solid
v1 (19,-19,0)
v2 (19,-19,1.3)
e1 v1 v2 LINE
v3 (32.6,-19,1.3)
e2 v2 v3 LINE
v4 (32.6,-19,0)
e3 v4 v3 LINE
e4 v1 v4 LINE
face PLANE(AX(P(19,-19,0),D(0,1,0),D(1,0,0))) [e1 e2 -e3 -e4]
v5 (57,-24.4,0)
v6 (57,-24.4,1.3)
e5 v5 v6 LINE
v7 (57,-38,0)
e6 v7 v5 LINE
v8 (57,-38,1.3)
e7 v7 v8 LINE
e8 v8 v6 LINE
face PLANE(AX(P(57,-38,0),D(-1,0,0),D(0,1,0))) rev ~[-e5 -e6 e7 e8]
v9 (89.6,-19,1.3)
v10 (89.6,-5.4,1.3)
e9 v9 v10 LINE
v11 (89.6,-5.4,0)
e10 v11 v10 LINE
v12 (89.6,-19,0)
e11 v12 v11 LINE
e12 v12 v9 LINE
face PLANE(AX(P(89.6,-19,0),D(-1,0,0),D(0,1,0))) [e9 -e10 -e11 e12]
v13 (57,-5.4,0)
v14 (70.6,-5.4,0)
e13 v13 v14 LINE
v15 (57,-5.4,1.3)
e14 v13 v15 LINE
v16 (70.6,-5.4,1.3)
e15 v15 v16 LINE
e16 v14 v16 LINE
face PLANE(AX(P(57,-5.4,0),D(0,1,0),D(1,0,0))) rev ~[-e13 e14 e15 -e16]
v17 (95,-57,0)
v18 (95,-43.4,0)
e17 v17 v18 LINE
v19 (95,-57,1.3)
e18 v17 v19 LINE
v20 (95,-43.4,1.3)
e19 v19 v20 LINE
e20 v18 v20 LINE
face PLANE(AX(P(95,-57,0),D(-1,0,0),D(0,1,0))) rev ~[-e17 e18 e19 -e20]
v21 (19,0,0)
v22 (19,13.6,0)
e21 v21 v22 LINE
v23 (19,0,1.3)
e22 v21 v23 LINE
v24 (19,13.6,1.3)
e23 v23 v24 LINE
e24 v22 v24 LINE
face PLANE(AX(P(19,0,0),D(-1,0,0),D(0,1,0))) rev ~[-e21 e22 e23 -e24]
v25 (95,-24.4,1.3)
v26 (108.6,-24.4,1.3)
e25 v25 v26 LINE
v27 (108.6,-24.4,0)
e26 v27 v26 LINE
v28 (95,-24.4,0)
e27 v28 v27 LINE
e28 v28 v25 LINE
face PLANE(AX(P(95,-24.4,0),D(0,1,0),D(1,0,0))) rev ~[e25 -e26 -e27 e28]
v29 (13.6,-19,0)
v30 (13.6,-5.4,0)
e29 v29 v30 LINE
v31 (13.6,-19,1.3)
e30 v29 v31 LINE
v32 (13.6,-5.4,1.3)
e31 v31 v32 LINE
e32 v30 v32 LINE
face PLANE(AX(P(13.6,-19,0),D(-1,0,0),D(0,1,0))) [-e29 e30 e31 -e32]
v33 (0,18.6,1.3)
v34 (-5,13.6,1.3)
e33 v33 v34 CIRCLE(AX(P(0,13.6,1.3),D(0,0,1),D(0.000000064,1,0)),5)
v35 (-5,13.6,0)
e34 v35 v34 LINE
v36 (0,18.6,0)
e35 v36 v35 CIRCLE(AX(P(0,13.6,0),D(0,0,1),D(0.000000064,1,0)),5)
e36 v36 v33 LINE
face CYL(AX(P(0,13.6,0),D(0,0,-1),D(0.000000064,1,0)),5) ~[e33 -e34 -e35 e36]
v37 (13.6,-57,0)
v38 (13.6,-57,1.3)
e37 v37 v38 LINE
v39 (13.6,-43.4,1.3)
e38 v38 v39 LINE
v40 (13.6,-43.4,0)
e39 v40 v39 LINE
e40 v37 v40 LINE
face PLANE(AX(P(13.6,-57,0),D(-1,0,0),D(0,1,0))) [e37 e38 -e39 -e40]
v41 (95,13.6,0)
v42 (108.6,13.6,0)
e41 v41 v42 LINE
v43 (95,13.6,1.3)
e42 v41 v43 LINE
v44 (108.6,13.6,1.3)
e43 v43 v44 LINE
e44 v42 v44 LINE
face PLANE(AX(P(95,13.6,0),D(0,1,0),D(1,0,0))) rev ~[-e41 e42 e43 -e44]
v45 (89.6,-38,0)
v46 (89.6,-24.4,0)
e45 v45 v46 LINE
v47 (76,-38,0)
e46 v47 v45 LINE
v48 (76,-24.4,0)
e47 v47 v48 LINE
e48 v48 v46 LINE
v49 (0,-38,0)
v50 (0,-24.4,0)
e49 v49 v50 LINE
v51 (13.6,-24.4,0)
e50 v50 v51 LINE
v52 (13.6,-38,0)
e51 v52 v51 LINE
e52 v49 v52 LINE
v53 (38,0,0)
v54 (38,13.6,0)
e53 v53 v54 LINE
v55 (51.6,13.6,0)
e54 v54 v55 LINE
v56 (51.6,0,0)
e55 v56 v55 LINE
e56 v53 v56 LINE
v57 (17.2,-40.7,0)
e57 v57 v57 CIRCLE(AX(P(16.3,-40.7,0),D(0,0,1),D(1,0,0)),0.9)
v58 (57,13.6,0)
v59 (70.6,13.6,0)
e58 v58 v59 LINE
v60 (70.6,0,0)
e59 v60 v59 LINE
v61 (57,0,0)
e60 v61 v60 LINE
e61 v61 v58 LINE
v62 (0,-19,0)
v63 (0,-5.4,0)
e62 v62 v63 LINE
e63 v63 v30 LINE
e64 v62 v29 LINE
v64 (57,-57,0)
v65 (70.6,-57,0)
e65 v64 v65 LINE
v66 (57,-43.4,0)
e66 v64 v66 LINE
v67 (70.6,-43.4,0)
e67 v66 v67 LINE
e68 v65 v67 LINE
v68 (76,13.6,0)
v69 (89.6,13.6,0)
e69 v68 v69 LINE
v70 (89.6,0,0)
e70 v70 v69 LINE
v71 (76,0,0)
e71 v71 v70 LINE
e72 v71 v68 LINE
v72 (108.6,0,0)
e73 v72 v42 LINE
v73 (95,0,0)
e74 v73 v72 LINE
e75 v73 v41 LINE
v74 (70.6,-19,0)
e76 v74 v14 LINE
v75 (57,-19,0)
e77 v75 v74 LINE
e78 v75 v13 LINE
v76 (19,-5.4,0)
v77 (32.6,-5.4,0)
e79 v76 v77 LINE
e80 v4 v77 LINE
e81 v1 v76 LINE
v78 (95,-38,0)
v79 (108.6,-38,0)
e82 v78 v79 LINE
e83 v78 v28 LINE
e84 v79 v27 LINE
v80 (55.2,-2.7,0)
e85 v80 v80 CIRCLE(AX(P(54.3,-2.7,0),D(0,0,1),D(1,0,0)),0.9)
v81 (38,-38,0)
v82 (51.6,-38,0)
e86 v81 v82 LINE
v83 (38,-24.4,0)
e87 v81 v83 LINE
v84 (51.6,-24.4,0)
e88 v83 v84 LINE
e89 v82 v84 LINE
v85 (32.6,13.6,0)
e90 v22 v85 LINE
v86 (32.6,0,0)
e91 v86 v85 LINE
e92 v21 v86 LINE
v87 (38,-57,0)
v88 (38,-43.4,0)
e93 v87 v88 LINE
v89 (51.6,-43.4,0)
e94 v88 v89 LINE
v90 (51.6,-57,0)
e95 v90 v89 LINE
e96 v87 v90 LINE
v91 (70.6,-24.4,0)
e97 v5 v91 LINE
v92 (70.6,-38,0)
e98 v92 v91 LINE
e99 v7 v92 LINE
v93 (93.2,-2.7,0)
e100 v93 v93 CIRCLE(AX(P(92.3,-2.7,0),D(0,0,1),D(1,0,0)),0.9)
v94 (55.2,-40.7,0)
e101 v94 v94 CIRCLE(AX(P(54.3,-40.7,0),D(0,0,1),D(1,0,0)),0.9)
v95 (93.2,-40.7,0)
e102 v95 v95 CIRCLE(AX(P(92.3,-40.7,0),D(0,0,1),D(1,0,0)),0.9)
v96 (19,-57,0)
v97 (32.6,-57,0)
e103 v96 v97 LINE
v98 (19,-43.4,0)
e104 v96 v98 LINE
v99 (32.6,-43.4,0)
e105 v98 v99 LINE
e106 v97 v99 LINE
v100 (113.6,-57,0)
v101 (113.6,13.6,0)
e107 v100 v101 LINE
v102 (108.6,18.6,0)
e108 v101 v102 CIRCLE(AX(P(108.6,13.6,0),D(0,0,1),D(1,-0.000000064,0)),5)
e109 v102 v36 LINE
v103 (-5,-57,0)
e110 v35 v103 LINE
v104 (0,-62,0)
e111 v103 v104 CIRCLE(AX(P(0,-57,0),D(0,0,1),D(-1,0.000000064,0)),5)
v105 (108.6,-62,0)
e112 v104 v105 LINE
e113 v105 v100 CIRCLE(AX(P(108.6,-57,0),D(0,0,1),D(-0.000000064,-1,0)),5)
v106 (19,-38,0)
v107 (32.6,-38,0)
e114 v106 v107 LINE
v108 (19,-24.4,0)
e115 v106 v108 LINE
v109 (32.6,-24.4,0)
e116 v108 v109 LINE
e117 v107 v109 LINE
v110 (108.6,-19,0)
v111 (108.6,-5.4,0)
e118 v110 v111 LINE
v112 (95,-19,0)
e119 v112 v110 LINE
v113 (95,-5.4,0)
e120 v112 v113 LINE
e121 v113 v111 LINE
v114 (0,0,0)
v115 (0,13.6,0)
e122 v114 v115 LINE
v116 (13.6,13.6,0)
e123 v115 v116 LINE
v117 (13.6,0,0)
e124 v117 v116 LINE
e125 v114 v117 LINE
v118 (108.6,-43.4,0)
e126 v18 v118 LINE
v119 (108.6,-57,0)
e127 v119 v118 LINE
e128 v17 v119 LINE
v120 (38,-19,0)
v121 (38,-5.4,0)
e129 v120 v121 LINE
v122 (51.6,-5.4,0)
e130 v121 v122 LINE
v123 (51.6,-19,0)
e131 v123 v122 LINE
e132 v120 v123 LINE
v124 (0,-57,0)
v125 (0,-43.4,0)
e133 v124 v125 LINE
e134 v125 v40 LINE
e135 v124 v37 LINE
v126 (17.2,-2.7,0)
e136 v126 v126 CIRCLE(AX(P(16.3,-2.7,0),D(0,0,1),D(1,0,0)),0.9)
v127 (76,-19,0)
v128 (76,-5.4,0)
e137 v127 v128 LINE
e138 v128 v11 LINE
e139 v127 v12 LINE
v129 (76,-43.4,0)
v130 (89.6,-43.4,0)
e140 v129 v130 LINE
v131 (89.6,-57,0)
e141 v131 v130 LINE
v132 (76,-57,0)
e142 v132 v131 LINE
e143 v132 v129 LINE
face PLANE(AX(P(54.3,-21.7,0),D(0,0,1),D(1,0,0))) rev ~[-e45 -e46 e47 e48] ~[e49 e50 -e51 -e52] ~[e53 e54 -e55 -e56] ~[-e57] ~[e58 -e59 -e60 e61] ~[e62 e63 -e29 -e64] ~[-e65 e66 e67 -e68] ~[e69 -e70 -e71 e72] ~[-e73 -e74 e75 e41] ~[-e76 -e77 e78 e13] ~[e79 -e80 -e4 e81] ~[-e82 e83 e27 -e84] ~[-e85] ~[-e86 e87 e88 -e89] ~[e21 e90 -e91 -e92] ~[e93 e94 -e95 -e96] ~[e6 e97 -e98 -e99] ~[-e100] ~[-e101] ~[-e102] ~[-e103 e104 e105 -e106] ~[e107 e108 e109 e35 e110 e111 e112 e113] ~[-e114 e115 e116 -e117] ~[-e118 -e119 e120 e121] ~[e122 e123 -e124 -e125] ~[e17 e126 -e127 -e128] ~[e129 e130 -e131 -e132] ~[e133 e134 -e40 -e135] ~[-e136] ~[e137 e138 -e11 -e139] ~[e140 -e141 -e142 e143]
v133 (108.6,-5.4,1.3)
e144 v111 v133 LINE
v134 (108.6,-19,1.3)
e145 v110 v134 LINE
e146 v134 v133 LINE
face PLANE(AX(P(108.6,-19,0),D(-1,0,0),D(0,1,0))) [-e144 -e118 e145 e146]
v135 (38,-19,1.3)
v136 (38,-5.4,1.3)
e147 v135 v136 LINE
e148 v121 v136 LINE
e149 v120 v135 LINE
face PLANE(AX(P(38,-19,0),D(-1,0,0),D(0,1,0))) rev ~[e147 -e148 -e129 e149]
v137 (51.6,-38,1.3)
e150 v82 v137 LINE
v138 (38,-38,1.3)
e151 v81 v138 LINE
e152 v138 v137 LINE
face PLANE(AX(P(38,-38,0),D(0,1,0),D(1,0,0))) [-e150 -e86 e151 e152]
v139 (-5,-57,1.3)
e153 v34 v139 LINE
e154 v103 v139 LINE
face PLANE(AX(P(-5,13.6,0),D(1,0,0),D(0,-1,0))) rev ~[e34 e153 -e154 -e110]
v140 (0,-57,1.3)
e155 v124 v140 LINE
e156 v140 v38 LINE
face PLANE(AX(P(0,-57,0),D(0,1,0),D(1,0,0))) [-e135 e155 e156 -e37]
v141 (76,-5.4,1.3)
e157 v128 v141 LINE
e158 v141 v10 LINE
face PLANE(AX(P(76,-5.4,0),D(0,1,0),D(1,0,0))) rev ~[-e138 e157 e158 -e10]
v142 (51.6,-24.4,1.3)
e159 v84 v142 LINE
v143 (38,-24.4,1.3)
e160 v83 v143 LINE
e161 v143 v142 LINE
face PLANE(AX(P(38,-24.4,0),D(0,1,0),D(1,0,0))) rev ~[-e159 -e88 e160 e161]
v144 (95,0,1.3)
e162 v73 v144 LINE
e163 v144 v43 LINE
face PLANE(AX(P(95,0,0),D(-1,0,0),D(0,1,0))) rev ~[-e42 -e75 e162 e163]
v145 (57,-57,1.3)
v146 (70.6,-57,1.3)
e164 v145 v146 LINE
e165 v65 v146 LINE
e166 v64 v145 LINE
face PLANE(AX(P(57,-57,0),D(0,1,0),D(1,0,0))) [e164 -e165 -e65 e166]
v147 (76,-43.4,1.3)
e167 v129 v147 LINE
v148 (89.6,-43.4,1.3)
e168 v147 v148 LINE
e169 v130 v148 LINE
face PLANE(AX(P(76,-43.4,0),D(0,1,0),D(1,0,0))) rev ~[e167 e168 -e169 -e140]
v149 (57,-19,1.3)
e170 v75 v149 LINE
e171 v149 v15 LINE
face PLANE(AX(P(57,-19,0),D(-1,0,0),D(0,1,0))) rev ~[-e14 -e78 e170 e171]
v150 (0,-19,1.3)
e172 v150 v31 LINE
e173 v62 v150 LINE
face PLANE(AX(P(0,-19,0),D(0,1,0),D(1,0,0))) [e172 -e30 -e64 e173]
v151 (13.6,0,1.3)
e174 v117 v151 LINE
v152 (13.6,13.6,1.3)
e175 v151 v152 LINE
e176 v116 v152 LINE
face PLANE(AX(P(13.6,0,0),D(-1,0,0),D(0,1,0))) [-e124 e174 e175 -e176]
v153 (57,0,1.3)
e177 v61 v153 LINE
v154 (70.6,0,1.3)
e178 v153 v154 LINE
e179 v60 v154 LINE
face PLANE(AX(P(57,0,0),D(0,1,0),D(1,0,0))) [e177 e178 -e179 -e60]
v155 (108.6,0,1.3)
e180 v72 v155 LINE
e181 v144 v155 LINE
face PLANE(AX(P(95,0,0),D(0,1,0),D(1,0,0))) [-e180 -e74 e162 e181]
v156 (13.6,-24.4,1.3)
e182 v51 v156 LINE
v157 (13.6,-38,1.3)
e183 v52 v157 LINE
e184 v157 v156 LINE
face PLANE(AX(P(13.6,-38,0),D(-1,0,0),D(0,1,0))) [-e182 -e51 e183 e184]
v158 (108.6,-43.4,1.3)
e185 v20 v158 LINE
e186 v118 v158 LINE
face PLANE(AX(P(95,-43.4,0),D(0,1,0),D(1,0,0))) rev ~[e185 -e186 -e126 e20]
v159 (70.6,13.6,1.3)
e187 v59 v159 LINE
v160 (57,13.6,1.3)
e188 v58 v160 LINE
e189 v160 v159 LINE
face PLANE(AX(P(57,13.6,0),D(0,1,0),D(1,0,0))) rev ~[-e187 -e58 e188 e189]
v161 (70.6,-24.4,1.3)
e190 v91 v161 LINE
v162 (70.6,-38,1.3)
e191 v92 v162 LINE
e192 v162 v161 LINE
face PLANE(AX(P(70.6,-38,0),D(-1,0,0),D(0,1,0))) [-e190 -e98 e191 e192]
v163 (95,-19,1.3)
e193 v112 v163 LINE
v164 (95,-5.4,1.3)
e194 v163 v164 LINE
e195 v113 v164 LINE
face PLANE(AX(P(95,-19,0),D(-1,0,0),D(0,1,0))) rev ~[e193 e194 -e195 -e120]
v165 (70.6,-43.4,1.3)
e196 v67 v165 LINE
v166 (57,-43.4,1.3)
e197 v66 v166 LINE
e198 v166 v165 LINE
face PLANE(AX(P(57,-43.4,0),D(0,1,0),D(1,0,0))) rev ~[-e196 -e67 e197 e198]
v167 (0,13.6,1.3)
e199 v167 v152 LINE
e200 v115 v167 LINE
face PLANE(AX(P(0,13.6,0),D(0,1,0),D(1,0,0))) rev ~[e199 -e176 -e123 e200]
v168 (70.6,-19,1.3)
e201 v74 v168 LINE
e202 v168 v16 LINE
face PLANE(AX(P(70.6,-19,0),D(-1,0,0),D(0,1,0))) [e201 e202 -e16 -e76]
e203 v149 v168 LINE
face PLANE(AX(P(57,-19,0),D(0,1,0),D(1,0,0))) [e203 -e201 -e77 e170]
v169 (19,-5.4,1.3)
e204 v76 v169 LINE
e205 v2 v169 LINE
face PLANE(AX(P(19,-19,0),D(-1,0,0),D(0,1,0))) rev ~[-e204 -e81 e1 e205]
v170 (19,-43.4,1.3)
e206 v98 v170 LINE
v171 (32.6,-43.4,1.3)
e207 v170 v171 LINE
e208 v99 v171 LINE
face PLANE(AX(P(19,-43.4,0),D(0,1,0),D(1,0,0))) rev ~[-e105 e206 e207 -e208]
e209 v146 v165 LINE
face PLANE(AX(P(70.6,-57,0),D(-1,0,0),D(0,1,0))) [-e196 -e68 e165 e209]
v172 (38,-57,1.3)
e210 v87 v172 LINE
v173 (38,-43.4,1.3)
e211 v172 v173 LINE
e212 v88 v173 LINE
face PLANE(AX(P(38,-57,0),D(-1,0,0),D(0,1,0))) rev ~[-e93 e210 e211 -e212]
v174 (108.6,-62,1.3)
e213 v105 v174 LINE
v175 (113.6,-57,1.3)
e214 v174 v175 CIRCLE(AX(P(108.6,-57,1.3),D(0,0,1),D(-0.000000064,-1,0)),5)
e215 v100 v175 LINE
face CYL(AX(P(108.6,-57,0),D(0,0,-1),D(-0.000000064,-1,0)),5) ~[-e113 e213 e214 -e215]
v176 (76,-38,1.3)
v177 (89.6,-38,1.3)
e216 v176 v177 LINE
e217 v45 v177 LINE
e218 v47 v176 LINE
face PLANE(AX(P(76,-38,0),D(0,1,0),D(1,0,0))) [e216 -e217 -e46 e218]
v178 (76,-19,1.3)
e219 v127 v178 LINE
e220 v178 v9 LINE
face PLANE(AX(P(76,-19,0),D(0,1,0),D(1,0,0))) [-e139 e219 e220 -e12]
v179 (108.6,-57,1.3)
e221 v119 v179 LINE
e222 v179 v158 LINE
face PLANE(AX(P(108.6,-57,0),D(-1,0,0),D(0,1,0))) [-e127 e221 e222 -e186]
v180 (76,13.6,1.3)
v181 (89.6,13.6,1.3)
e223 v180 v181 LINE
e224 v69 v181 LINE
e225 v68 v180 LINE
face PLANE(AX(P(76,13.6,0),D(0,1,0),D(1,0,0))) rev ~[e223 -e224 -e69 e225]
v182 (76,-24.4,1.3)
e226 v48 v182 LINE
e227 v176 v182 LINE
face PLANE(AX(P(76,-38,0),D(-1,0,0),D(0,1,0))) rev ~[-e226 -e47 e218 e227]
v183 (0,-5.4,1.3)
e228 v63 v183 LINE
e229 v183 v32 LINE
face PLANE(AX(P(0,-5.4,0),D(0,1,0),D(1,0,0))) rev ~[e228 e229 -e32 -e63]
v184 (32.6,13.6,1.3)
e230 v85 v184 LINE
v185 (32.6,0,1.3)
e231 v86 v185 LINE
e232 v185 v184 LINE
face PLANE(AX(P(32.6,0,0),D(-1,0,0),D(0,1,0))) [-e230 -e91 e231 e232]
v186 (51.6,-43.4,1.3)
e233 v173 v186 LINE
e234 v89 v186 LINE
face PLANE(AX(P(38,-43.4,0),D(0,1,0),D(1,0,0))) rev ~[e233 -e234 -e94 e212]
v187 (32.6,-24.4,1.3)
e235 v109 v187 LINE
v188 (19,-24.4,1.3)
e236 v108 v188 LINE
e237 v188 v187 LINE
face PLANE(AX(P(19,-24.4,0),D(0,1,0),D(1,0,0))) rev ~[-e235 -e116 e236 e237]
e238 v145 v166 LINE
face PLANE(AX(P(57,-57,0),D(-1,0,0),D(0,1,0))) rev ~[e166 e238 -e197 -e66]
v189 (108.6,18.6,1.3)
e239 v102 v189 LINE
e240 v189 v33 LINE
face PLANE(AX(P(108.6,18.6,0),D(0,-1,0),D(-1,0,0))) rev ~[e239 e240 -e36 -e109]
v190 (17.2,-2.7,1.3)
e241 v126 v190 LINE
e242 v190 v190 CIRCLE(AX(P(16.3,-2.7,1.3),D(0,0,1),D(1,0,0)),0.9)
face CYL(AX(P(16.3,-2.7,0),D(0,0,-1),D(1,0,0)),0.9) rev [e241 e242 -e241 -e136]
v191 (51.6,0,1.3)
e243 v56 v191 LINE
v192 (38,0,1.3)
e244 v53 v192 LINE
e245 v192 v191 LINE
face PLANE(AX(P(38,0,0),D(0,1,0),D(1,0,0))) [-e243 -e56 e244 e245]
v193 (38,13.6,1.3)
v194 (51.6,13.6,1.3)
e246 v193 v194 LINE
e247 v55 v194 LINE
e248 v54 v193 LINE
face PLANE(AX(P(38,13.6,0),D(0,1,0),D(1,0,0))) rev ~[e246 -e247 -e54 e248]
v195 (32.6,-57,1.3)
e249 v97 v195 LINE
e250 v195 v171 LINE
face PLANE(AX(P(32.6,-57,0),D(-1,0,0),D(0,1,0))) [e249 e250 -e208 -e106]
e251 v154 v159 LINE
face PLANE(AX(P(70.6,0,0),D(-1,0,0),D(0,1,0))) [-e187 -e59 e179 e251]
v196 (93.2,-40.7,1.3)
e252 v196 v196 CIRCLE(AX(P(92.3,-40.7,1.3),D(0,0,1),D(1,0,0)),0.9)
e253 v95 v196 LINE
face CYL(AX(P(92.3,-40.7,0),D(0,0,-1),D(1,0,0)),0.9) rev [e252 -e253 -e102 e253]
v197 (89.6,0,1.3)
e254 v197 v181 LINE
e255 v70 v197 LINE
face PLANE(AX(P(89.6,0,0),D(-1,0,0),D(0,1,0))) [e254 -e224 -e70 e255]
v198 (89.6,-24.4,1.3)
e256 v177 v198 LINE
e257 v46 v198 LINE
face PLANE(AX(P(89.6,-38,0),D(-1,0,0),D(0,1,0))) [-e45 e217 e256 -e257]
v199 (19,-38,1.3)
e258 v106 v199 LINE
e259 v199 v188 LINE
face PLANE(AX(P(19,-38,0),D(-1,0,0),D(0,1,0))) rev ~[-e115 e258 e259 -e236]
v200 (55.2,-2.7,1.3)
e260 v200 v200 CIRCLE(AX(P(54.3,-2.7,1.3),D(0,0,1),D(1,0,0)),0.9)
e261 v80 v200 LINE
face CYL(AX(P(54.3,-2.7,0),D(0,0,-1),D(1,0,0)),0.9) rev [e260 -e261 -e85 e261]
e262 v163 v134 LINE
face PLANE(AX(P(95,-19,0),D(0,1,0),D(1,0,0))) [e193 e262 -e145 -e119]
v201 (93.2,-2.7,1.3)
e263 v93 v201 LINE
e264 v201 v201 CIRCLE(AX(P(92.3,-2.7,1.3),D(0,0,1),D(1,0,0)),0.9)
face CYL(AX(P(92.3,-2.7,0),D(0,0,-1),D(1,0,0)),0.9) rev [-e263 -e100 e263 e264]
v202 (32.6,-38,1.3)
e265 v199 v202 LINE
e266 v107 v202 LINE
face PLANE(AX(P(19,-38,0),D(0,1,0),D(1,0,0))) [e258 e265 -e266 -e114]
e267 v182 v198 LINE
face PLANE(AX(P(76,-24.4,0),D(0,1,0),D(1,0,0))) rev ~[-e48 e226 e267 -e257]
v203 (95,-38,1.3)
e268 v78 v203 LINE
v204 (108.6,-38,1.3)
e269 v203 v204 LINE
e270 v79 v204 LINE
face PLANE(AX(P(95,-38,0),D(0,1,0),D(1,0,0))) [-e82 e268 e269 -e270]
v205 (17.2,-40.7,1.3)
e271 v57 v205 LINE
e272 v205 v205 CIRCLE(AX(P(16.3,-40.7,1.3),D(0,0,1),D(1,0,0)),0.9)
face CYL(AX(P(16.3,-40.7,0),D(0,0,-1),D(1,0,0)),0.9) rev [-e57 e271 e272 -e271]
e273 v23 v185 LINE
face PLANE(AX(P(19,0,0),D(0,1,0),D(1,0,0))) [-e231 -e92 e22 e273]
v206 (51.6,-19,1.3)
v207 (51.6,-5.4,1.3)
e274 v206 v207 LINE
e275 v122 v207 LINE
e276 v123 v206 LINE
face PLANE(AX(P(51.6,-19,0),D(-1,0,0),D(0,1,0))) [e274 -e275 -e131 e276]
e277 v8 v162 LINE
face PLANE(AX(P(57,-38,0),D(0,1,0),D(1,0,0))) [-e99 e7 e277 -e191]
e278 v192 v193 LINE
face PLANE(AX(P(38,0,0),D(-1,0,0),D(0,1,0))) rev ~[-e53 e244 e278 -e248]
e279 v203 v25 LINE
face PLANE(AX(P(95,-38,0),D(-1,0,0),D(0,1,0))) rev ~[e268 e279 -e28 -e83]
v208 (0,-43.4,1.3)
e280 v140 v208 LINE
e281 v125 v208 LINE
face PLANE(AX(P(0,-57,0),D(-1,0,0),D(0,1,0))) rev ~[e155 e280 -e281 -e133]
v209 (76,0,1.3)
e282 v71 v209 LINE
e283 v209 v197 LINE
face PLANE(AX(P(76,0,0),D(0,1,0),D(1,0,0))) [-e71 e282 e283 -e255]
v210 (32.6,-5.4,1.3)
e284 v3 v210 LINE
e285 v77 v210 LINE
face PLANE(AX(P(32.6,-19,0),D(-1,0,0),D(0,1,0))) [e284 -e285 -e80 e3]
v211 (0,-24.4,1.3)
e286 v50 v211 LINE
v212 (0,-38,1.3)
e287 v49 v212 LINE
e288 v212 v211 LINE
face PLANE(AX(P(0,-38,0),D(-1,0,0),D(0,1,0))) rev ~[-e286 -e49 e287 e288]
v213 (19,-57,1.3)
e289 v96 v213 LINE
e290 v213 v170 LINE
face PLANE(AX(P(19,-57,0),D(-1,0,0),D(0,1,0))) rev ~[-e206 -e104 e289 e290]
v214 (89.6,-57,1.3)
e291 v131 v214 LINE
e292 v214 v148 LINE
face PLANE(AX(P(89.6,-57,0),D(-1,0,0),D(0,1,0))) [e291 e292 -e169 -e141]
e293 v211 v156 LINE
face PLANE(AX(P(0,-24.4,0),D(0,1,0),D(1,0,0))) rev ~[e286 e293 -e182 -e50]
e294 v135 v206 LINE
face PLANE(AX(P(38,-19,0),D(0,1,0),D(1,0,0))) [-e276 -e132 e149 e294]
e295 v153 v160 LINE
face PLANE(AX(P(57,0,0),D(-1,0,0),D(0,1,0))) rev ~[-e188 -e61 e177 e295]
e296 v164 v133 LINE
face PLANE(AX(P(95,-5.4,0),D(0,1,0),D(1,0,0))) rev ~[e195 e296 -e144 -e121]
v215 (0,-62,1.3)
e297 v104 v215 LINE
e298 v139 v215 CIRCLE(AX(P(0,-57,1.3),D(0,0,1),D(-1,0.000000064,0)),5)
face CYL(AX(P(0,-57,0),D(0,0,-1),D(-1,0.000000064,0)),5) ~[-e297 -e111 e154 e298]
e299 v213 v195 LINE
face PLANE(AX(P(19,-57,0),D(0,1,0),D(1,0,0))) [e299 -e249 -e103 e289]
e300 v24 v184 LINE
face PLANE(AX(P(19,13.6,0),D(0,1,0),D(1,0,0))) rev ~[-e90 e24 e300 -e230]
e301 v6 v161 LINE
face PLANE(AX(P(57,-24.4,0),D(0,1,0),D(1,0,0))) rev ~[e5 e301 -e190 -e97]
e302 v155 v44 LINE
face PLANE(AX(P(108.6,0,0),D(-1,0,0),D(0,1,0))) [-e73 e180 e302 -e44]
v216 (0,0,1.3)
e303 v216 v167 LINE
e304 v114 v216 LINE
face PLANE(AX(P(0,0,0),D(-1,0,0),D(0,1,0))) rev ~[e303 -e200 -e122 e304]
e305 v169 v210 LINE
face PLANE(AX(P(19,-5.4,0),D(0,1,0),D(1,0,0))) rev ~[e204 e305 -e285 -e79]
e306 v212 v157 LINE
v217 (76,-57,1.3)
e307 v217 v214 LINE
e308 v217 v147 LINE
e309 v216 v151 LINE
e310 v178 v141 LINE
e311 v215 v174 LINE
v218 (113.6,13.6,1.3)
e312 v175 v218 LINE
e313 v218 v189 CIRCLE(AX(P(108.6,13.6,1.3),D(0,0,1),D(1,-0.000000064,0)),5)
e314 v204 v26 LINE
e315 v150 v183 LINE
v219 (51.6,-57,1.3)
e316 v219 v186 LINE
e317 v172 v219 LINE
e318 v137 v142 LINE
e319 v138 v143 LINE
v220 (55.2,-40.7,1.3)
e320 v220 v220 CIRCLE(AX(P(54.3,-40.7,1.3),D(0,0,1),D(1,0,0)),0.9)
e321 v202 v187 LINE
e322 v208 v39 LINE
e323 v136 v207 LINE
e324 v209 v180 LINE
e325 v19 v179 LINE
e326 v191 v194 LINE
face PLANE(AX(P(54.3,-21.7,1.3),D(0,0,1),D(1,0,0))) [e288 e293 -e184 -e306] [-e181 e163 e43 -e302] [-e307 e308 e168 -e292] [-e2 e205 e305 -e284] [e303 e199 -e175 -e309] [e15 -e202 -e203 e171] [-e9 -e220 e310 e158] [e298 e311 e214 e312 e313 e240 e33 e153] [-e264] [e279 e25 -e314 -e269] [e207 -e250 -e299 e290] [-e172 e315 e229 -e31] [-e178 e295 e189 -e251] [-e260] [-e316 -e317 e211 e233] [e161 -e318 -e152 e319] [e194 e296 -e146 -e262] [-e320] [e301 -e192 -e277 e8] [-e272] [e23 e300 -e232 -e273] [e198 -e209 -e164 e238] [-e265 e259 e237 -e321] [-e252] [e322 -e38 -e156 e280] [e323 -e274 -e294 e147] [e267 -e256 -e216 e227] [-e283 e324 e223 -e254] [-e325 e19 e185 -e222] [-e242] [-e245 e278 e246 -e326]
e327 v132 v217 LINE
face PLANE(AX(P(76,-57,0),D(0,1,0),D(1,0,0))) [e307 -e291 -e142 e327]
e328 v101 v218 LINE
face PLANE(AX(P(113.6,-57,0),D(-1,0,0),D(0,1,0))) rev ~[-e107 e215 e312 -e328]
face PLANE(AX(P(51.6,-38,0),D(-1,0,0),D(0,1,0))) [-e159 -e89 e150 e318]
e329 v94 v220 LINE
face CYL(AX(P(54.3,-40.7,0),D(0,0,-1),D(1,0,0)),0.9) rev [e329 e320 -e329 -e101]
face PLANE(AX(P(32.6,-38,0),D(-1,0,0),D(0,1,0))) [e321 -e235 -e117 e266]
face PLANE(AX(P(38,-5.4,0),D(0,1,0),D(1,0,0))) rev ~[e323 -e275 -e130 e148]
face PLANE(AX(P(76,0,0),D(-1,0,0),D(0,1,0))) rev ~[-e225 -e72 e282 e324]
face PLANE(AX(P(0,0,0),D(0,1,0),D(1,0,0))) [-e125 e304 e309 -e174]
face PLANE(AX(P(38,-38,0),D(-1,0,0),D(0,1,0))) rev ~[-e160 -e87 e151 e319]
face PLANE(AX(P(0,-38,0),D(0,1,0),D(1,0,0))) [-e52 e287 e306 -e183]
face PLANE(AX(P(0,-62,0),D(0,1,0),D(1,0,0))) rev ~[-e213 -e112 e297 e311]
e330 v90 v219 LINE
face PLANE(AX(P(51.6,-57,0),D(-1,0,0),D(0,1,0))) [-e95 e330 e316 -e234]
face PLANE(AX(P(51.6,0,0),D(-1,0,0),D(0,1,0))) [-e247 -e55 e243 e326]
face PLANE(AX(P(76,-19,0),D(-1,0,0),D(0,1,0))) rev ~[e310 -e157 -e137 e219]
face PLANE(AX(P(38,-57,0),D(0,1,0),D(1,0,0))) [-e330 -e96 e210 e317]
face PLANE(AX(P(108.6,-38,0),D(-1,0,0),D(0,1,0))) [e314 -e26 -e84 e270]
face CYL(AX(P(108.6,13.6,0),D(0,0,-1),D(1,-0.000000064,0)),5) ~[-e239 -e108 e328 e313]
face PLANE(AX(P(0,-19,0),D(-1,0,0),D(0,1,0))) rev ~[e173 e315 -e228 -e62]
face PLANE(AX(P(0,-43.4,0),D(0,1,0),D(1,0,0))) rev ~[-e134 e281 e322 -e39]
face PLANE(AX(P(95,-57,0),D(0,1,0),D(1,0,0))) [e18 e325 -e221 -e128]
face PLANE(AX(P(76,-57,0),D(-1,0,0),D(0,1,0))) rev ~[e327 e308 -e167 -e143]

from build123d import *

# Parameters (mm, degrees)
SKETCH_R  = 0.9
SKETCH_W  = 13.6
SKETCH_H  = 13.6
PAD_DEPTH = 1.3


with BuildPart() as part:
    # Sketch → Pad (new body)
    with BuildSketch(Plane.XY):
        with BuildLine():
            ThreePointArc((0, 18.6), (-3.535534, 17.135534), (-5, 13.6))
            Line((-5, 13.6), (-5, -57))
            ThreePointArc((-5, -57), (-3.535534, -60.535534), (0, -62))
            Line((0, -62), (108.6, -62))
            ThreePointArc((108.6, -62), (112.135534, -60.535534), (113.6, -57))
            Line((113.6, -57), (113.6, 13.6))
            ThreePointArc((113.6, 13.6), (112.135534, 17.135534), (108.6, 18.6))
            Line((108.6, 18.6), (0, 18.6))
        make_face()
        with Locations((92.3, -40.7)):
            Circle(SKETCH_R, mode=Mode.SUBTRACT)
        with Locations((54.3, -40.7)):
            Circle(SKETCH_R, mode=Mode.SUBTRACT)
        with Locations((16.3, -40.7)):
            Circle(SKETCH_R, mode=Mode.SUBTRACT)
        with Locations((16.3, -2.7)):
            Circle(SKETCH_R, mode=Mode.SUBTRACT)
        with Locations((54.3, -2.7)):
            Circle(SKETCH_R, mode=Mode.SUBTRACT)
        with Locations((92.3, -2.7)):
            Circle(SKETCH_R, mode=Mode.SUBTRACT)
        with Locations((6.8, 6.8)):
            Rectangle(SKETCH_W, SKETCH_H, mode=Mode.SUBTRACT)
        with Locations((25.8, 6.8)):
            Rectangle(SKETCH_W, SKETCH_H, mode=Mode.SUBTRACT)
        with Locations((44.8, 6.8)):
            Rectangle(SKETCH_W, SKETCH_H, mode=Mode.SUBTRACT)
        with Locations((63.8, 6.8)):
            Rectangle(SKETCH_W, SKETCH_H, mode=Mode.SUBTRACT)
        with Locations((82.8, 6.8)):
            Rectangle(SKETCH_W, SKETCH_H, mode=Mode.SUBTRACT)
        with Locations((101.8, 6.8)):
            Rectangle(SKETCH_W, SKETCH_H, mode=Mode.SUBTRACT)
        with Locations((6.8, -12.2)):
            Rectangle(SKETCH_W, SKETCH_H, mode=Mode.SUBTRACT)
        with Locations((25.8, -12.2)):
            Rectangle(SKETCH_W, SKETCH_H, mode=Mode.SUBTRACT)
        with Locations((44.8, -12.2)):
            Rectangle(SKETCH_W, SKETCH_H, mode=Mode.SUBTRACT)
        with Locations((63.8, -12.2)):
            Rectangle(SKETCH_W, SKETCH_H, mode=Mode.SUBTRACT)
        with Locations((82.8, -12.2)):
            Rectangle(SKETCH_W, SKETCH_H, mode=Mode.SUBTRACT)
        with Locations((101.8, -12.2)):
            Rectangle(SKETCH_W, SKETCH_H, mode=Mode.SUBTRACT)
        with Locations((6.8, -31.2)):
            Rectangle(SKETCH_W, SKETCH_H, mode=Mode.SUBTRACT)
        with Locations((25.8, -31.2)):
            Rectangle(SKETCH_W, SKETCH_H, mode=Mode.SUBTRACT)
        with Locations((44.8, -31.2)):
            Rectangle(SKETCH_W, SKETCH_H, mode=Mode.SUBTRACT)
        with Locations((63.8, -31.2)):
            Rectangle(SKETCH_W, SKETCH_H, mode=Mode.SUBTRACT)
        with Locations((82.8, -31.2)):
            Rectangle(SKETCH_W, SKETCH_H, mode=Mode.SUBTRACT)
        with Locations((101.8, -31.2)):
            Rectangle(SKETCH_W, SKETCH_H, mode=Mode.SUBTRACT)
        with Locations((6.8, -50.2)):
            Rectangle(SKETCH_W, SKETCH_H, mode=Mode.SUBTRACT)
        with Locations((25.8, -50.2)):
            Rectangle(SKETCH_W, SKETCH_H, mode=Mode.SUBTRACT)
        with Locations((44.8, -50.2)):
            Rectangle(SKETCH_W, SKETCH_H, mode=Mode.SUBTRACT)
        with Locations((63.8, -50.2)):
            Rectangle(SKETCH_W, SKETCH_H, mode=Mode.SUBTRACT)
        with Locations((82.8, -50.2)):
            Rectangle(SKETCH_W, SKETCH_H, mode=Mode.SUBTRACT)
        with Locations((101.8, -50.2)):
            Rectangle(SKETCH_W, SKETCH_H, mode=Mode.SUBTRACT)
    extrude(amount=PAD_DEPTH)


solid = part.part
